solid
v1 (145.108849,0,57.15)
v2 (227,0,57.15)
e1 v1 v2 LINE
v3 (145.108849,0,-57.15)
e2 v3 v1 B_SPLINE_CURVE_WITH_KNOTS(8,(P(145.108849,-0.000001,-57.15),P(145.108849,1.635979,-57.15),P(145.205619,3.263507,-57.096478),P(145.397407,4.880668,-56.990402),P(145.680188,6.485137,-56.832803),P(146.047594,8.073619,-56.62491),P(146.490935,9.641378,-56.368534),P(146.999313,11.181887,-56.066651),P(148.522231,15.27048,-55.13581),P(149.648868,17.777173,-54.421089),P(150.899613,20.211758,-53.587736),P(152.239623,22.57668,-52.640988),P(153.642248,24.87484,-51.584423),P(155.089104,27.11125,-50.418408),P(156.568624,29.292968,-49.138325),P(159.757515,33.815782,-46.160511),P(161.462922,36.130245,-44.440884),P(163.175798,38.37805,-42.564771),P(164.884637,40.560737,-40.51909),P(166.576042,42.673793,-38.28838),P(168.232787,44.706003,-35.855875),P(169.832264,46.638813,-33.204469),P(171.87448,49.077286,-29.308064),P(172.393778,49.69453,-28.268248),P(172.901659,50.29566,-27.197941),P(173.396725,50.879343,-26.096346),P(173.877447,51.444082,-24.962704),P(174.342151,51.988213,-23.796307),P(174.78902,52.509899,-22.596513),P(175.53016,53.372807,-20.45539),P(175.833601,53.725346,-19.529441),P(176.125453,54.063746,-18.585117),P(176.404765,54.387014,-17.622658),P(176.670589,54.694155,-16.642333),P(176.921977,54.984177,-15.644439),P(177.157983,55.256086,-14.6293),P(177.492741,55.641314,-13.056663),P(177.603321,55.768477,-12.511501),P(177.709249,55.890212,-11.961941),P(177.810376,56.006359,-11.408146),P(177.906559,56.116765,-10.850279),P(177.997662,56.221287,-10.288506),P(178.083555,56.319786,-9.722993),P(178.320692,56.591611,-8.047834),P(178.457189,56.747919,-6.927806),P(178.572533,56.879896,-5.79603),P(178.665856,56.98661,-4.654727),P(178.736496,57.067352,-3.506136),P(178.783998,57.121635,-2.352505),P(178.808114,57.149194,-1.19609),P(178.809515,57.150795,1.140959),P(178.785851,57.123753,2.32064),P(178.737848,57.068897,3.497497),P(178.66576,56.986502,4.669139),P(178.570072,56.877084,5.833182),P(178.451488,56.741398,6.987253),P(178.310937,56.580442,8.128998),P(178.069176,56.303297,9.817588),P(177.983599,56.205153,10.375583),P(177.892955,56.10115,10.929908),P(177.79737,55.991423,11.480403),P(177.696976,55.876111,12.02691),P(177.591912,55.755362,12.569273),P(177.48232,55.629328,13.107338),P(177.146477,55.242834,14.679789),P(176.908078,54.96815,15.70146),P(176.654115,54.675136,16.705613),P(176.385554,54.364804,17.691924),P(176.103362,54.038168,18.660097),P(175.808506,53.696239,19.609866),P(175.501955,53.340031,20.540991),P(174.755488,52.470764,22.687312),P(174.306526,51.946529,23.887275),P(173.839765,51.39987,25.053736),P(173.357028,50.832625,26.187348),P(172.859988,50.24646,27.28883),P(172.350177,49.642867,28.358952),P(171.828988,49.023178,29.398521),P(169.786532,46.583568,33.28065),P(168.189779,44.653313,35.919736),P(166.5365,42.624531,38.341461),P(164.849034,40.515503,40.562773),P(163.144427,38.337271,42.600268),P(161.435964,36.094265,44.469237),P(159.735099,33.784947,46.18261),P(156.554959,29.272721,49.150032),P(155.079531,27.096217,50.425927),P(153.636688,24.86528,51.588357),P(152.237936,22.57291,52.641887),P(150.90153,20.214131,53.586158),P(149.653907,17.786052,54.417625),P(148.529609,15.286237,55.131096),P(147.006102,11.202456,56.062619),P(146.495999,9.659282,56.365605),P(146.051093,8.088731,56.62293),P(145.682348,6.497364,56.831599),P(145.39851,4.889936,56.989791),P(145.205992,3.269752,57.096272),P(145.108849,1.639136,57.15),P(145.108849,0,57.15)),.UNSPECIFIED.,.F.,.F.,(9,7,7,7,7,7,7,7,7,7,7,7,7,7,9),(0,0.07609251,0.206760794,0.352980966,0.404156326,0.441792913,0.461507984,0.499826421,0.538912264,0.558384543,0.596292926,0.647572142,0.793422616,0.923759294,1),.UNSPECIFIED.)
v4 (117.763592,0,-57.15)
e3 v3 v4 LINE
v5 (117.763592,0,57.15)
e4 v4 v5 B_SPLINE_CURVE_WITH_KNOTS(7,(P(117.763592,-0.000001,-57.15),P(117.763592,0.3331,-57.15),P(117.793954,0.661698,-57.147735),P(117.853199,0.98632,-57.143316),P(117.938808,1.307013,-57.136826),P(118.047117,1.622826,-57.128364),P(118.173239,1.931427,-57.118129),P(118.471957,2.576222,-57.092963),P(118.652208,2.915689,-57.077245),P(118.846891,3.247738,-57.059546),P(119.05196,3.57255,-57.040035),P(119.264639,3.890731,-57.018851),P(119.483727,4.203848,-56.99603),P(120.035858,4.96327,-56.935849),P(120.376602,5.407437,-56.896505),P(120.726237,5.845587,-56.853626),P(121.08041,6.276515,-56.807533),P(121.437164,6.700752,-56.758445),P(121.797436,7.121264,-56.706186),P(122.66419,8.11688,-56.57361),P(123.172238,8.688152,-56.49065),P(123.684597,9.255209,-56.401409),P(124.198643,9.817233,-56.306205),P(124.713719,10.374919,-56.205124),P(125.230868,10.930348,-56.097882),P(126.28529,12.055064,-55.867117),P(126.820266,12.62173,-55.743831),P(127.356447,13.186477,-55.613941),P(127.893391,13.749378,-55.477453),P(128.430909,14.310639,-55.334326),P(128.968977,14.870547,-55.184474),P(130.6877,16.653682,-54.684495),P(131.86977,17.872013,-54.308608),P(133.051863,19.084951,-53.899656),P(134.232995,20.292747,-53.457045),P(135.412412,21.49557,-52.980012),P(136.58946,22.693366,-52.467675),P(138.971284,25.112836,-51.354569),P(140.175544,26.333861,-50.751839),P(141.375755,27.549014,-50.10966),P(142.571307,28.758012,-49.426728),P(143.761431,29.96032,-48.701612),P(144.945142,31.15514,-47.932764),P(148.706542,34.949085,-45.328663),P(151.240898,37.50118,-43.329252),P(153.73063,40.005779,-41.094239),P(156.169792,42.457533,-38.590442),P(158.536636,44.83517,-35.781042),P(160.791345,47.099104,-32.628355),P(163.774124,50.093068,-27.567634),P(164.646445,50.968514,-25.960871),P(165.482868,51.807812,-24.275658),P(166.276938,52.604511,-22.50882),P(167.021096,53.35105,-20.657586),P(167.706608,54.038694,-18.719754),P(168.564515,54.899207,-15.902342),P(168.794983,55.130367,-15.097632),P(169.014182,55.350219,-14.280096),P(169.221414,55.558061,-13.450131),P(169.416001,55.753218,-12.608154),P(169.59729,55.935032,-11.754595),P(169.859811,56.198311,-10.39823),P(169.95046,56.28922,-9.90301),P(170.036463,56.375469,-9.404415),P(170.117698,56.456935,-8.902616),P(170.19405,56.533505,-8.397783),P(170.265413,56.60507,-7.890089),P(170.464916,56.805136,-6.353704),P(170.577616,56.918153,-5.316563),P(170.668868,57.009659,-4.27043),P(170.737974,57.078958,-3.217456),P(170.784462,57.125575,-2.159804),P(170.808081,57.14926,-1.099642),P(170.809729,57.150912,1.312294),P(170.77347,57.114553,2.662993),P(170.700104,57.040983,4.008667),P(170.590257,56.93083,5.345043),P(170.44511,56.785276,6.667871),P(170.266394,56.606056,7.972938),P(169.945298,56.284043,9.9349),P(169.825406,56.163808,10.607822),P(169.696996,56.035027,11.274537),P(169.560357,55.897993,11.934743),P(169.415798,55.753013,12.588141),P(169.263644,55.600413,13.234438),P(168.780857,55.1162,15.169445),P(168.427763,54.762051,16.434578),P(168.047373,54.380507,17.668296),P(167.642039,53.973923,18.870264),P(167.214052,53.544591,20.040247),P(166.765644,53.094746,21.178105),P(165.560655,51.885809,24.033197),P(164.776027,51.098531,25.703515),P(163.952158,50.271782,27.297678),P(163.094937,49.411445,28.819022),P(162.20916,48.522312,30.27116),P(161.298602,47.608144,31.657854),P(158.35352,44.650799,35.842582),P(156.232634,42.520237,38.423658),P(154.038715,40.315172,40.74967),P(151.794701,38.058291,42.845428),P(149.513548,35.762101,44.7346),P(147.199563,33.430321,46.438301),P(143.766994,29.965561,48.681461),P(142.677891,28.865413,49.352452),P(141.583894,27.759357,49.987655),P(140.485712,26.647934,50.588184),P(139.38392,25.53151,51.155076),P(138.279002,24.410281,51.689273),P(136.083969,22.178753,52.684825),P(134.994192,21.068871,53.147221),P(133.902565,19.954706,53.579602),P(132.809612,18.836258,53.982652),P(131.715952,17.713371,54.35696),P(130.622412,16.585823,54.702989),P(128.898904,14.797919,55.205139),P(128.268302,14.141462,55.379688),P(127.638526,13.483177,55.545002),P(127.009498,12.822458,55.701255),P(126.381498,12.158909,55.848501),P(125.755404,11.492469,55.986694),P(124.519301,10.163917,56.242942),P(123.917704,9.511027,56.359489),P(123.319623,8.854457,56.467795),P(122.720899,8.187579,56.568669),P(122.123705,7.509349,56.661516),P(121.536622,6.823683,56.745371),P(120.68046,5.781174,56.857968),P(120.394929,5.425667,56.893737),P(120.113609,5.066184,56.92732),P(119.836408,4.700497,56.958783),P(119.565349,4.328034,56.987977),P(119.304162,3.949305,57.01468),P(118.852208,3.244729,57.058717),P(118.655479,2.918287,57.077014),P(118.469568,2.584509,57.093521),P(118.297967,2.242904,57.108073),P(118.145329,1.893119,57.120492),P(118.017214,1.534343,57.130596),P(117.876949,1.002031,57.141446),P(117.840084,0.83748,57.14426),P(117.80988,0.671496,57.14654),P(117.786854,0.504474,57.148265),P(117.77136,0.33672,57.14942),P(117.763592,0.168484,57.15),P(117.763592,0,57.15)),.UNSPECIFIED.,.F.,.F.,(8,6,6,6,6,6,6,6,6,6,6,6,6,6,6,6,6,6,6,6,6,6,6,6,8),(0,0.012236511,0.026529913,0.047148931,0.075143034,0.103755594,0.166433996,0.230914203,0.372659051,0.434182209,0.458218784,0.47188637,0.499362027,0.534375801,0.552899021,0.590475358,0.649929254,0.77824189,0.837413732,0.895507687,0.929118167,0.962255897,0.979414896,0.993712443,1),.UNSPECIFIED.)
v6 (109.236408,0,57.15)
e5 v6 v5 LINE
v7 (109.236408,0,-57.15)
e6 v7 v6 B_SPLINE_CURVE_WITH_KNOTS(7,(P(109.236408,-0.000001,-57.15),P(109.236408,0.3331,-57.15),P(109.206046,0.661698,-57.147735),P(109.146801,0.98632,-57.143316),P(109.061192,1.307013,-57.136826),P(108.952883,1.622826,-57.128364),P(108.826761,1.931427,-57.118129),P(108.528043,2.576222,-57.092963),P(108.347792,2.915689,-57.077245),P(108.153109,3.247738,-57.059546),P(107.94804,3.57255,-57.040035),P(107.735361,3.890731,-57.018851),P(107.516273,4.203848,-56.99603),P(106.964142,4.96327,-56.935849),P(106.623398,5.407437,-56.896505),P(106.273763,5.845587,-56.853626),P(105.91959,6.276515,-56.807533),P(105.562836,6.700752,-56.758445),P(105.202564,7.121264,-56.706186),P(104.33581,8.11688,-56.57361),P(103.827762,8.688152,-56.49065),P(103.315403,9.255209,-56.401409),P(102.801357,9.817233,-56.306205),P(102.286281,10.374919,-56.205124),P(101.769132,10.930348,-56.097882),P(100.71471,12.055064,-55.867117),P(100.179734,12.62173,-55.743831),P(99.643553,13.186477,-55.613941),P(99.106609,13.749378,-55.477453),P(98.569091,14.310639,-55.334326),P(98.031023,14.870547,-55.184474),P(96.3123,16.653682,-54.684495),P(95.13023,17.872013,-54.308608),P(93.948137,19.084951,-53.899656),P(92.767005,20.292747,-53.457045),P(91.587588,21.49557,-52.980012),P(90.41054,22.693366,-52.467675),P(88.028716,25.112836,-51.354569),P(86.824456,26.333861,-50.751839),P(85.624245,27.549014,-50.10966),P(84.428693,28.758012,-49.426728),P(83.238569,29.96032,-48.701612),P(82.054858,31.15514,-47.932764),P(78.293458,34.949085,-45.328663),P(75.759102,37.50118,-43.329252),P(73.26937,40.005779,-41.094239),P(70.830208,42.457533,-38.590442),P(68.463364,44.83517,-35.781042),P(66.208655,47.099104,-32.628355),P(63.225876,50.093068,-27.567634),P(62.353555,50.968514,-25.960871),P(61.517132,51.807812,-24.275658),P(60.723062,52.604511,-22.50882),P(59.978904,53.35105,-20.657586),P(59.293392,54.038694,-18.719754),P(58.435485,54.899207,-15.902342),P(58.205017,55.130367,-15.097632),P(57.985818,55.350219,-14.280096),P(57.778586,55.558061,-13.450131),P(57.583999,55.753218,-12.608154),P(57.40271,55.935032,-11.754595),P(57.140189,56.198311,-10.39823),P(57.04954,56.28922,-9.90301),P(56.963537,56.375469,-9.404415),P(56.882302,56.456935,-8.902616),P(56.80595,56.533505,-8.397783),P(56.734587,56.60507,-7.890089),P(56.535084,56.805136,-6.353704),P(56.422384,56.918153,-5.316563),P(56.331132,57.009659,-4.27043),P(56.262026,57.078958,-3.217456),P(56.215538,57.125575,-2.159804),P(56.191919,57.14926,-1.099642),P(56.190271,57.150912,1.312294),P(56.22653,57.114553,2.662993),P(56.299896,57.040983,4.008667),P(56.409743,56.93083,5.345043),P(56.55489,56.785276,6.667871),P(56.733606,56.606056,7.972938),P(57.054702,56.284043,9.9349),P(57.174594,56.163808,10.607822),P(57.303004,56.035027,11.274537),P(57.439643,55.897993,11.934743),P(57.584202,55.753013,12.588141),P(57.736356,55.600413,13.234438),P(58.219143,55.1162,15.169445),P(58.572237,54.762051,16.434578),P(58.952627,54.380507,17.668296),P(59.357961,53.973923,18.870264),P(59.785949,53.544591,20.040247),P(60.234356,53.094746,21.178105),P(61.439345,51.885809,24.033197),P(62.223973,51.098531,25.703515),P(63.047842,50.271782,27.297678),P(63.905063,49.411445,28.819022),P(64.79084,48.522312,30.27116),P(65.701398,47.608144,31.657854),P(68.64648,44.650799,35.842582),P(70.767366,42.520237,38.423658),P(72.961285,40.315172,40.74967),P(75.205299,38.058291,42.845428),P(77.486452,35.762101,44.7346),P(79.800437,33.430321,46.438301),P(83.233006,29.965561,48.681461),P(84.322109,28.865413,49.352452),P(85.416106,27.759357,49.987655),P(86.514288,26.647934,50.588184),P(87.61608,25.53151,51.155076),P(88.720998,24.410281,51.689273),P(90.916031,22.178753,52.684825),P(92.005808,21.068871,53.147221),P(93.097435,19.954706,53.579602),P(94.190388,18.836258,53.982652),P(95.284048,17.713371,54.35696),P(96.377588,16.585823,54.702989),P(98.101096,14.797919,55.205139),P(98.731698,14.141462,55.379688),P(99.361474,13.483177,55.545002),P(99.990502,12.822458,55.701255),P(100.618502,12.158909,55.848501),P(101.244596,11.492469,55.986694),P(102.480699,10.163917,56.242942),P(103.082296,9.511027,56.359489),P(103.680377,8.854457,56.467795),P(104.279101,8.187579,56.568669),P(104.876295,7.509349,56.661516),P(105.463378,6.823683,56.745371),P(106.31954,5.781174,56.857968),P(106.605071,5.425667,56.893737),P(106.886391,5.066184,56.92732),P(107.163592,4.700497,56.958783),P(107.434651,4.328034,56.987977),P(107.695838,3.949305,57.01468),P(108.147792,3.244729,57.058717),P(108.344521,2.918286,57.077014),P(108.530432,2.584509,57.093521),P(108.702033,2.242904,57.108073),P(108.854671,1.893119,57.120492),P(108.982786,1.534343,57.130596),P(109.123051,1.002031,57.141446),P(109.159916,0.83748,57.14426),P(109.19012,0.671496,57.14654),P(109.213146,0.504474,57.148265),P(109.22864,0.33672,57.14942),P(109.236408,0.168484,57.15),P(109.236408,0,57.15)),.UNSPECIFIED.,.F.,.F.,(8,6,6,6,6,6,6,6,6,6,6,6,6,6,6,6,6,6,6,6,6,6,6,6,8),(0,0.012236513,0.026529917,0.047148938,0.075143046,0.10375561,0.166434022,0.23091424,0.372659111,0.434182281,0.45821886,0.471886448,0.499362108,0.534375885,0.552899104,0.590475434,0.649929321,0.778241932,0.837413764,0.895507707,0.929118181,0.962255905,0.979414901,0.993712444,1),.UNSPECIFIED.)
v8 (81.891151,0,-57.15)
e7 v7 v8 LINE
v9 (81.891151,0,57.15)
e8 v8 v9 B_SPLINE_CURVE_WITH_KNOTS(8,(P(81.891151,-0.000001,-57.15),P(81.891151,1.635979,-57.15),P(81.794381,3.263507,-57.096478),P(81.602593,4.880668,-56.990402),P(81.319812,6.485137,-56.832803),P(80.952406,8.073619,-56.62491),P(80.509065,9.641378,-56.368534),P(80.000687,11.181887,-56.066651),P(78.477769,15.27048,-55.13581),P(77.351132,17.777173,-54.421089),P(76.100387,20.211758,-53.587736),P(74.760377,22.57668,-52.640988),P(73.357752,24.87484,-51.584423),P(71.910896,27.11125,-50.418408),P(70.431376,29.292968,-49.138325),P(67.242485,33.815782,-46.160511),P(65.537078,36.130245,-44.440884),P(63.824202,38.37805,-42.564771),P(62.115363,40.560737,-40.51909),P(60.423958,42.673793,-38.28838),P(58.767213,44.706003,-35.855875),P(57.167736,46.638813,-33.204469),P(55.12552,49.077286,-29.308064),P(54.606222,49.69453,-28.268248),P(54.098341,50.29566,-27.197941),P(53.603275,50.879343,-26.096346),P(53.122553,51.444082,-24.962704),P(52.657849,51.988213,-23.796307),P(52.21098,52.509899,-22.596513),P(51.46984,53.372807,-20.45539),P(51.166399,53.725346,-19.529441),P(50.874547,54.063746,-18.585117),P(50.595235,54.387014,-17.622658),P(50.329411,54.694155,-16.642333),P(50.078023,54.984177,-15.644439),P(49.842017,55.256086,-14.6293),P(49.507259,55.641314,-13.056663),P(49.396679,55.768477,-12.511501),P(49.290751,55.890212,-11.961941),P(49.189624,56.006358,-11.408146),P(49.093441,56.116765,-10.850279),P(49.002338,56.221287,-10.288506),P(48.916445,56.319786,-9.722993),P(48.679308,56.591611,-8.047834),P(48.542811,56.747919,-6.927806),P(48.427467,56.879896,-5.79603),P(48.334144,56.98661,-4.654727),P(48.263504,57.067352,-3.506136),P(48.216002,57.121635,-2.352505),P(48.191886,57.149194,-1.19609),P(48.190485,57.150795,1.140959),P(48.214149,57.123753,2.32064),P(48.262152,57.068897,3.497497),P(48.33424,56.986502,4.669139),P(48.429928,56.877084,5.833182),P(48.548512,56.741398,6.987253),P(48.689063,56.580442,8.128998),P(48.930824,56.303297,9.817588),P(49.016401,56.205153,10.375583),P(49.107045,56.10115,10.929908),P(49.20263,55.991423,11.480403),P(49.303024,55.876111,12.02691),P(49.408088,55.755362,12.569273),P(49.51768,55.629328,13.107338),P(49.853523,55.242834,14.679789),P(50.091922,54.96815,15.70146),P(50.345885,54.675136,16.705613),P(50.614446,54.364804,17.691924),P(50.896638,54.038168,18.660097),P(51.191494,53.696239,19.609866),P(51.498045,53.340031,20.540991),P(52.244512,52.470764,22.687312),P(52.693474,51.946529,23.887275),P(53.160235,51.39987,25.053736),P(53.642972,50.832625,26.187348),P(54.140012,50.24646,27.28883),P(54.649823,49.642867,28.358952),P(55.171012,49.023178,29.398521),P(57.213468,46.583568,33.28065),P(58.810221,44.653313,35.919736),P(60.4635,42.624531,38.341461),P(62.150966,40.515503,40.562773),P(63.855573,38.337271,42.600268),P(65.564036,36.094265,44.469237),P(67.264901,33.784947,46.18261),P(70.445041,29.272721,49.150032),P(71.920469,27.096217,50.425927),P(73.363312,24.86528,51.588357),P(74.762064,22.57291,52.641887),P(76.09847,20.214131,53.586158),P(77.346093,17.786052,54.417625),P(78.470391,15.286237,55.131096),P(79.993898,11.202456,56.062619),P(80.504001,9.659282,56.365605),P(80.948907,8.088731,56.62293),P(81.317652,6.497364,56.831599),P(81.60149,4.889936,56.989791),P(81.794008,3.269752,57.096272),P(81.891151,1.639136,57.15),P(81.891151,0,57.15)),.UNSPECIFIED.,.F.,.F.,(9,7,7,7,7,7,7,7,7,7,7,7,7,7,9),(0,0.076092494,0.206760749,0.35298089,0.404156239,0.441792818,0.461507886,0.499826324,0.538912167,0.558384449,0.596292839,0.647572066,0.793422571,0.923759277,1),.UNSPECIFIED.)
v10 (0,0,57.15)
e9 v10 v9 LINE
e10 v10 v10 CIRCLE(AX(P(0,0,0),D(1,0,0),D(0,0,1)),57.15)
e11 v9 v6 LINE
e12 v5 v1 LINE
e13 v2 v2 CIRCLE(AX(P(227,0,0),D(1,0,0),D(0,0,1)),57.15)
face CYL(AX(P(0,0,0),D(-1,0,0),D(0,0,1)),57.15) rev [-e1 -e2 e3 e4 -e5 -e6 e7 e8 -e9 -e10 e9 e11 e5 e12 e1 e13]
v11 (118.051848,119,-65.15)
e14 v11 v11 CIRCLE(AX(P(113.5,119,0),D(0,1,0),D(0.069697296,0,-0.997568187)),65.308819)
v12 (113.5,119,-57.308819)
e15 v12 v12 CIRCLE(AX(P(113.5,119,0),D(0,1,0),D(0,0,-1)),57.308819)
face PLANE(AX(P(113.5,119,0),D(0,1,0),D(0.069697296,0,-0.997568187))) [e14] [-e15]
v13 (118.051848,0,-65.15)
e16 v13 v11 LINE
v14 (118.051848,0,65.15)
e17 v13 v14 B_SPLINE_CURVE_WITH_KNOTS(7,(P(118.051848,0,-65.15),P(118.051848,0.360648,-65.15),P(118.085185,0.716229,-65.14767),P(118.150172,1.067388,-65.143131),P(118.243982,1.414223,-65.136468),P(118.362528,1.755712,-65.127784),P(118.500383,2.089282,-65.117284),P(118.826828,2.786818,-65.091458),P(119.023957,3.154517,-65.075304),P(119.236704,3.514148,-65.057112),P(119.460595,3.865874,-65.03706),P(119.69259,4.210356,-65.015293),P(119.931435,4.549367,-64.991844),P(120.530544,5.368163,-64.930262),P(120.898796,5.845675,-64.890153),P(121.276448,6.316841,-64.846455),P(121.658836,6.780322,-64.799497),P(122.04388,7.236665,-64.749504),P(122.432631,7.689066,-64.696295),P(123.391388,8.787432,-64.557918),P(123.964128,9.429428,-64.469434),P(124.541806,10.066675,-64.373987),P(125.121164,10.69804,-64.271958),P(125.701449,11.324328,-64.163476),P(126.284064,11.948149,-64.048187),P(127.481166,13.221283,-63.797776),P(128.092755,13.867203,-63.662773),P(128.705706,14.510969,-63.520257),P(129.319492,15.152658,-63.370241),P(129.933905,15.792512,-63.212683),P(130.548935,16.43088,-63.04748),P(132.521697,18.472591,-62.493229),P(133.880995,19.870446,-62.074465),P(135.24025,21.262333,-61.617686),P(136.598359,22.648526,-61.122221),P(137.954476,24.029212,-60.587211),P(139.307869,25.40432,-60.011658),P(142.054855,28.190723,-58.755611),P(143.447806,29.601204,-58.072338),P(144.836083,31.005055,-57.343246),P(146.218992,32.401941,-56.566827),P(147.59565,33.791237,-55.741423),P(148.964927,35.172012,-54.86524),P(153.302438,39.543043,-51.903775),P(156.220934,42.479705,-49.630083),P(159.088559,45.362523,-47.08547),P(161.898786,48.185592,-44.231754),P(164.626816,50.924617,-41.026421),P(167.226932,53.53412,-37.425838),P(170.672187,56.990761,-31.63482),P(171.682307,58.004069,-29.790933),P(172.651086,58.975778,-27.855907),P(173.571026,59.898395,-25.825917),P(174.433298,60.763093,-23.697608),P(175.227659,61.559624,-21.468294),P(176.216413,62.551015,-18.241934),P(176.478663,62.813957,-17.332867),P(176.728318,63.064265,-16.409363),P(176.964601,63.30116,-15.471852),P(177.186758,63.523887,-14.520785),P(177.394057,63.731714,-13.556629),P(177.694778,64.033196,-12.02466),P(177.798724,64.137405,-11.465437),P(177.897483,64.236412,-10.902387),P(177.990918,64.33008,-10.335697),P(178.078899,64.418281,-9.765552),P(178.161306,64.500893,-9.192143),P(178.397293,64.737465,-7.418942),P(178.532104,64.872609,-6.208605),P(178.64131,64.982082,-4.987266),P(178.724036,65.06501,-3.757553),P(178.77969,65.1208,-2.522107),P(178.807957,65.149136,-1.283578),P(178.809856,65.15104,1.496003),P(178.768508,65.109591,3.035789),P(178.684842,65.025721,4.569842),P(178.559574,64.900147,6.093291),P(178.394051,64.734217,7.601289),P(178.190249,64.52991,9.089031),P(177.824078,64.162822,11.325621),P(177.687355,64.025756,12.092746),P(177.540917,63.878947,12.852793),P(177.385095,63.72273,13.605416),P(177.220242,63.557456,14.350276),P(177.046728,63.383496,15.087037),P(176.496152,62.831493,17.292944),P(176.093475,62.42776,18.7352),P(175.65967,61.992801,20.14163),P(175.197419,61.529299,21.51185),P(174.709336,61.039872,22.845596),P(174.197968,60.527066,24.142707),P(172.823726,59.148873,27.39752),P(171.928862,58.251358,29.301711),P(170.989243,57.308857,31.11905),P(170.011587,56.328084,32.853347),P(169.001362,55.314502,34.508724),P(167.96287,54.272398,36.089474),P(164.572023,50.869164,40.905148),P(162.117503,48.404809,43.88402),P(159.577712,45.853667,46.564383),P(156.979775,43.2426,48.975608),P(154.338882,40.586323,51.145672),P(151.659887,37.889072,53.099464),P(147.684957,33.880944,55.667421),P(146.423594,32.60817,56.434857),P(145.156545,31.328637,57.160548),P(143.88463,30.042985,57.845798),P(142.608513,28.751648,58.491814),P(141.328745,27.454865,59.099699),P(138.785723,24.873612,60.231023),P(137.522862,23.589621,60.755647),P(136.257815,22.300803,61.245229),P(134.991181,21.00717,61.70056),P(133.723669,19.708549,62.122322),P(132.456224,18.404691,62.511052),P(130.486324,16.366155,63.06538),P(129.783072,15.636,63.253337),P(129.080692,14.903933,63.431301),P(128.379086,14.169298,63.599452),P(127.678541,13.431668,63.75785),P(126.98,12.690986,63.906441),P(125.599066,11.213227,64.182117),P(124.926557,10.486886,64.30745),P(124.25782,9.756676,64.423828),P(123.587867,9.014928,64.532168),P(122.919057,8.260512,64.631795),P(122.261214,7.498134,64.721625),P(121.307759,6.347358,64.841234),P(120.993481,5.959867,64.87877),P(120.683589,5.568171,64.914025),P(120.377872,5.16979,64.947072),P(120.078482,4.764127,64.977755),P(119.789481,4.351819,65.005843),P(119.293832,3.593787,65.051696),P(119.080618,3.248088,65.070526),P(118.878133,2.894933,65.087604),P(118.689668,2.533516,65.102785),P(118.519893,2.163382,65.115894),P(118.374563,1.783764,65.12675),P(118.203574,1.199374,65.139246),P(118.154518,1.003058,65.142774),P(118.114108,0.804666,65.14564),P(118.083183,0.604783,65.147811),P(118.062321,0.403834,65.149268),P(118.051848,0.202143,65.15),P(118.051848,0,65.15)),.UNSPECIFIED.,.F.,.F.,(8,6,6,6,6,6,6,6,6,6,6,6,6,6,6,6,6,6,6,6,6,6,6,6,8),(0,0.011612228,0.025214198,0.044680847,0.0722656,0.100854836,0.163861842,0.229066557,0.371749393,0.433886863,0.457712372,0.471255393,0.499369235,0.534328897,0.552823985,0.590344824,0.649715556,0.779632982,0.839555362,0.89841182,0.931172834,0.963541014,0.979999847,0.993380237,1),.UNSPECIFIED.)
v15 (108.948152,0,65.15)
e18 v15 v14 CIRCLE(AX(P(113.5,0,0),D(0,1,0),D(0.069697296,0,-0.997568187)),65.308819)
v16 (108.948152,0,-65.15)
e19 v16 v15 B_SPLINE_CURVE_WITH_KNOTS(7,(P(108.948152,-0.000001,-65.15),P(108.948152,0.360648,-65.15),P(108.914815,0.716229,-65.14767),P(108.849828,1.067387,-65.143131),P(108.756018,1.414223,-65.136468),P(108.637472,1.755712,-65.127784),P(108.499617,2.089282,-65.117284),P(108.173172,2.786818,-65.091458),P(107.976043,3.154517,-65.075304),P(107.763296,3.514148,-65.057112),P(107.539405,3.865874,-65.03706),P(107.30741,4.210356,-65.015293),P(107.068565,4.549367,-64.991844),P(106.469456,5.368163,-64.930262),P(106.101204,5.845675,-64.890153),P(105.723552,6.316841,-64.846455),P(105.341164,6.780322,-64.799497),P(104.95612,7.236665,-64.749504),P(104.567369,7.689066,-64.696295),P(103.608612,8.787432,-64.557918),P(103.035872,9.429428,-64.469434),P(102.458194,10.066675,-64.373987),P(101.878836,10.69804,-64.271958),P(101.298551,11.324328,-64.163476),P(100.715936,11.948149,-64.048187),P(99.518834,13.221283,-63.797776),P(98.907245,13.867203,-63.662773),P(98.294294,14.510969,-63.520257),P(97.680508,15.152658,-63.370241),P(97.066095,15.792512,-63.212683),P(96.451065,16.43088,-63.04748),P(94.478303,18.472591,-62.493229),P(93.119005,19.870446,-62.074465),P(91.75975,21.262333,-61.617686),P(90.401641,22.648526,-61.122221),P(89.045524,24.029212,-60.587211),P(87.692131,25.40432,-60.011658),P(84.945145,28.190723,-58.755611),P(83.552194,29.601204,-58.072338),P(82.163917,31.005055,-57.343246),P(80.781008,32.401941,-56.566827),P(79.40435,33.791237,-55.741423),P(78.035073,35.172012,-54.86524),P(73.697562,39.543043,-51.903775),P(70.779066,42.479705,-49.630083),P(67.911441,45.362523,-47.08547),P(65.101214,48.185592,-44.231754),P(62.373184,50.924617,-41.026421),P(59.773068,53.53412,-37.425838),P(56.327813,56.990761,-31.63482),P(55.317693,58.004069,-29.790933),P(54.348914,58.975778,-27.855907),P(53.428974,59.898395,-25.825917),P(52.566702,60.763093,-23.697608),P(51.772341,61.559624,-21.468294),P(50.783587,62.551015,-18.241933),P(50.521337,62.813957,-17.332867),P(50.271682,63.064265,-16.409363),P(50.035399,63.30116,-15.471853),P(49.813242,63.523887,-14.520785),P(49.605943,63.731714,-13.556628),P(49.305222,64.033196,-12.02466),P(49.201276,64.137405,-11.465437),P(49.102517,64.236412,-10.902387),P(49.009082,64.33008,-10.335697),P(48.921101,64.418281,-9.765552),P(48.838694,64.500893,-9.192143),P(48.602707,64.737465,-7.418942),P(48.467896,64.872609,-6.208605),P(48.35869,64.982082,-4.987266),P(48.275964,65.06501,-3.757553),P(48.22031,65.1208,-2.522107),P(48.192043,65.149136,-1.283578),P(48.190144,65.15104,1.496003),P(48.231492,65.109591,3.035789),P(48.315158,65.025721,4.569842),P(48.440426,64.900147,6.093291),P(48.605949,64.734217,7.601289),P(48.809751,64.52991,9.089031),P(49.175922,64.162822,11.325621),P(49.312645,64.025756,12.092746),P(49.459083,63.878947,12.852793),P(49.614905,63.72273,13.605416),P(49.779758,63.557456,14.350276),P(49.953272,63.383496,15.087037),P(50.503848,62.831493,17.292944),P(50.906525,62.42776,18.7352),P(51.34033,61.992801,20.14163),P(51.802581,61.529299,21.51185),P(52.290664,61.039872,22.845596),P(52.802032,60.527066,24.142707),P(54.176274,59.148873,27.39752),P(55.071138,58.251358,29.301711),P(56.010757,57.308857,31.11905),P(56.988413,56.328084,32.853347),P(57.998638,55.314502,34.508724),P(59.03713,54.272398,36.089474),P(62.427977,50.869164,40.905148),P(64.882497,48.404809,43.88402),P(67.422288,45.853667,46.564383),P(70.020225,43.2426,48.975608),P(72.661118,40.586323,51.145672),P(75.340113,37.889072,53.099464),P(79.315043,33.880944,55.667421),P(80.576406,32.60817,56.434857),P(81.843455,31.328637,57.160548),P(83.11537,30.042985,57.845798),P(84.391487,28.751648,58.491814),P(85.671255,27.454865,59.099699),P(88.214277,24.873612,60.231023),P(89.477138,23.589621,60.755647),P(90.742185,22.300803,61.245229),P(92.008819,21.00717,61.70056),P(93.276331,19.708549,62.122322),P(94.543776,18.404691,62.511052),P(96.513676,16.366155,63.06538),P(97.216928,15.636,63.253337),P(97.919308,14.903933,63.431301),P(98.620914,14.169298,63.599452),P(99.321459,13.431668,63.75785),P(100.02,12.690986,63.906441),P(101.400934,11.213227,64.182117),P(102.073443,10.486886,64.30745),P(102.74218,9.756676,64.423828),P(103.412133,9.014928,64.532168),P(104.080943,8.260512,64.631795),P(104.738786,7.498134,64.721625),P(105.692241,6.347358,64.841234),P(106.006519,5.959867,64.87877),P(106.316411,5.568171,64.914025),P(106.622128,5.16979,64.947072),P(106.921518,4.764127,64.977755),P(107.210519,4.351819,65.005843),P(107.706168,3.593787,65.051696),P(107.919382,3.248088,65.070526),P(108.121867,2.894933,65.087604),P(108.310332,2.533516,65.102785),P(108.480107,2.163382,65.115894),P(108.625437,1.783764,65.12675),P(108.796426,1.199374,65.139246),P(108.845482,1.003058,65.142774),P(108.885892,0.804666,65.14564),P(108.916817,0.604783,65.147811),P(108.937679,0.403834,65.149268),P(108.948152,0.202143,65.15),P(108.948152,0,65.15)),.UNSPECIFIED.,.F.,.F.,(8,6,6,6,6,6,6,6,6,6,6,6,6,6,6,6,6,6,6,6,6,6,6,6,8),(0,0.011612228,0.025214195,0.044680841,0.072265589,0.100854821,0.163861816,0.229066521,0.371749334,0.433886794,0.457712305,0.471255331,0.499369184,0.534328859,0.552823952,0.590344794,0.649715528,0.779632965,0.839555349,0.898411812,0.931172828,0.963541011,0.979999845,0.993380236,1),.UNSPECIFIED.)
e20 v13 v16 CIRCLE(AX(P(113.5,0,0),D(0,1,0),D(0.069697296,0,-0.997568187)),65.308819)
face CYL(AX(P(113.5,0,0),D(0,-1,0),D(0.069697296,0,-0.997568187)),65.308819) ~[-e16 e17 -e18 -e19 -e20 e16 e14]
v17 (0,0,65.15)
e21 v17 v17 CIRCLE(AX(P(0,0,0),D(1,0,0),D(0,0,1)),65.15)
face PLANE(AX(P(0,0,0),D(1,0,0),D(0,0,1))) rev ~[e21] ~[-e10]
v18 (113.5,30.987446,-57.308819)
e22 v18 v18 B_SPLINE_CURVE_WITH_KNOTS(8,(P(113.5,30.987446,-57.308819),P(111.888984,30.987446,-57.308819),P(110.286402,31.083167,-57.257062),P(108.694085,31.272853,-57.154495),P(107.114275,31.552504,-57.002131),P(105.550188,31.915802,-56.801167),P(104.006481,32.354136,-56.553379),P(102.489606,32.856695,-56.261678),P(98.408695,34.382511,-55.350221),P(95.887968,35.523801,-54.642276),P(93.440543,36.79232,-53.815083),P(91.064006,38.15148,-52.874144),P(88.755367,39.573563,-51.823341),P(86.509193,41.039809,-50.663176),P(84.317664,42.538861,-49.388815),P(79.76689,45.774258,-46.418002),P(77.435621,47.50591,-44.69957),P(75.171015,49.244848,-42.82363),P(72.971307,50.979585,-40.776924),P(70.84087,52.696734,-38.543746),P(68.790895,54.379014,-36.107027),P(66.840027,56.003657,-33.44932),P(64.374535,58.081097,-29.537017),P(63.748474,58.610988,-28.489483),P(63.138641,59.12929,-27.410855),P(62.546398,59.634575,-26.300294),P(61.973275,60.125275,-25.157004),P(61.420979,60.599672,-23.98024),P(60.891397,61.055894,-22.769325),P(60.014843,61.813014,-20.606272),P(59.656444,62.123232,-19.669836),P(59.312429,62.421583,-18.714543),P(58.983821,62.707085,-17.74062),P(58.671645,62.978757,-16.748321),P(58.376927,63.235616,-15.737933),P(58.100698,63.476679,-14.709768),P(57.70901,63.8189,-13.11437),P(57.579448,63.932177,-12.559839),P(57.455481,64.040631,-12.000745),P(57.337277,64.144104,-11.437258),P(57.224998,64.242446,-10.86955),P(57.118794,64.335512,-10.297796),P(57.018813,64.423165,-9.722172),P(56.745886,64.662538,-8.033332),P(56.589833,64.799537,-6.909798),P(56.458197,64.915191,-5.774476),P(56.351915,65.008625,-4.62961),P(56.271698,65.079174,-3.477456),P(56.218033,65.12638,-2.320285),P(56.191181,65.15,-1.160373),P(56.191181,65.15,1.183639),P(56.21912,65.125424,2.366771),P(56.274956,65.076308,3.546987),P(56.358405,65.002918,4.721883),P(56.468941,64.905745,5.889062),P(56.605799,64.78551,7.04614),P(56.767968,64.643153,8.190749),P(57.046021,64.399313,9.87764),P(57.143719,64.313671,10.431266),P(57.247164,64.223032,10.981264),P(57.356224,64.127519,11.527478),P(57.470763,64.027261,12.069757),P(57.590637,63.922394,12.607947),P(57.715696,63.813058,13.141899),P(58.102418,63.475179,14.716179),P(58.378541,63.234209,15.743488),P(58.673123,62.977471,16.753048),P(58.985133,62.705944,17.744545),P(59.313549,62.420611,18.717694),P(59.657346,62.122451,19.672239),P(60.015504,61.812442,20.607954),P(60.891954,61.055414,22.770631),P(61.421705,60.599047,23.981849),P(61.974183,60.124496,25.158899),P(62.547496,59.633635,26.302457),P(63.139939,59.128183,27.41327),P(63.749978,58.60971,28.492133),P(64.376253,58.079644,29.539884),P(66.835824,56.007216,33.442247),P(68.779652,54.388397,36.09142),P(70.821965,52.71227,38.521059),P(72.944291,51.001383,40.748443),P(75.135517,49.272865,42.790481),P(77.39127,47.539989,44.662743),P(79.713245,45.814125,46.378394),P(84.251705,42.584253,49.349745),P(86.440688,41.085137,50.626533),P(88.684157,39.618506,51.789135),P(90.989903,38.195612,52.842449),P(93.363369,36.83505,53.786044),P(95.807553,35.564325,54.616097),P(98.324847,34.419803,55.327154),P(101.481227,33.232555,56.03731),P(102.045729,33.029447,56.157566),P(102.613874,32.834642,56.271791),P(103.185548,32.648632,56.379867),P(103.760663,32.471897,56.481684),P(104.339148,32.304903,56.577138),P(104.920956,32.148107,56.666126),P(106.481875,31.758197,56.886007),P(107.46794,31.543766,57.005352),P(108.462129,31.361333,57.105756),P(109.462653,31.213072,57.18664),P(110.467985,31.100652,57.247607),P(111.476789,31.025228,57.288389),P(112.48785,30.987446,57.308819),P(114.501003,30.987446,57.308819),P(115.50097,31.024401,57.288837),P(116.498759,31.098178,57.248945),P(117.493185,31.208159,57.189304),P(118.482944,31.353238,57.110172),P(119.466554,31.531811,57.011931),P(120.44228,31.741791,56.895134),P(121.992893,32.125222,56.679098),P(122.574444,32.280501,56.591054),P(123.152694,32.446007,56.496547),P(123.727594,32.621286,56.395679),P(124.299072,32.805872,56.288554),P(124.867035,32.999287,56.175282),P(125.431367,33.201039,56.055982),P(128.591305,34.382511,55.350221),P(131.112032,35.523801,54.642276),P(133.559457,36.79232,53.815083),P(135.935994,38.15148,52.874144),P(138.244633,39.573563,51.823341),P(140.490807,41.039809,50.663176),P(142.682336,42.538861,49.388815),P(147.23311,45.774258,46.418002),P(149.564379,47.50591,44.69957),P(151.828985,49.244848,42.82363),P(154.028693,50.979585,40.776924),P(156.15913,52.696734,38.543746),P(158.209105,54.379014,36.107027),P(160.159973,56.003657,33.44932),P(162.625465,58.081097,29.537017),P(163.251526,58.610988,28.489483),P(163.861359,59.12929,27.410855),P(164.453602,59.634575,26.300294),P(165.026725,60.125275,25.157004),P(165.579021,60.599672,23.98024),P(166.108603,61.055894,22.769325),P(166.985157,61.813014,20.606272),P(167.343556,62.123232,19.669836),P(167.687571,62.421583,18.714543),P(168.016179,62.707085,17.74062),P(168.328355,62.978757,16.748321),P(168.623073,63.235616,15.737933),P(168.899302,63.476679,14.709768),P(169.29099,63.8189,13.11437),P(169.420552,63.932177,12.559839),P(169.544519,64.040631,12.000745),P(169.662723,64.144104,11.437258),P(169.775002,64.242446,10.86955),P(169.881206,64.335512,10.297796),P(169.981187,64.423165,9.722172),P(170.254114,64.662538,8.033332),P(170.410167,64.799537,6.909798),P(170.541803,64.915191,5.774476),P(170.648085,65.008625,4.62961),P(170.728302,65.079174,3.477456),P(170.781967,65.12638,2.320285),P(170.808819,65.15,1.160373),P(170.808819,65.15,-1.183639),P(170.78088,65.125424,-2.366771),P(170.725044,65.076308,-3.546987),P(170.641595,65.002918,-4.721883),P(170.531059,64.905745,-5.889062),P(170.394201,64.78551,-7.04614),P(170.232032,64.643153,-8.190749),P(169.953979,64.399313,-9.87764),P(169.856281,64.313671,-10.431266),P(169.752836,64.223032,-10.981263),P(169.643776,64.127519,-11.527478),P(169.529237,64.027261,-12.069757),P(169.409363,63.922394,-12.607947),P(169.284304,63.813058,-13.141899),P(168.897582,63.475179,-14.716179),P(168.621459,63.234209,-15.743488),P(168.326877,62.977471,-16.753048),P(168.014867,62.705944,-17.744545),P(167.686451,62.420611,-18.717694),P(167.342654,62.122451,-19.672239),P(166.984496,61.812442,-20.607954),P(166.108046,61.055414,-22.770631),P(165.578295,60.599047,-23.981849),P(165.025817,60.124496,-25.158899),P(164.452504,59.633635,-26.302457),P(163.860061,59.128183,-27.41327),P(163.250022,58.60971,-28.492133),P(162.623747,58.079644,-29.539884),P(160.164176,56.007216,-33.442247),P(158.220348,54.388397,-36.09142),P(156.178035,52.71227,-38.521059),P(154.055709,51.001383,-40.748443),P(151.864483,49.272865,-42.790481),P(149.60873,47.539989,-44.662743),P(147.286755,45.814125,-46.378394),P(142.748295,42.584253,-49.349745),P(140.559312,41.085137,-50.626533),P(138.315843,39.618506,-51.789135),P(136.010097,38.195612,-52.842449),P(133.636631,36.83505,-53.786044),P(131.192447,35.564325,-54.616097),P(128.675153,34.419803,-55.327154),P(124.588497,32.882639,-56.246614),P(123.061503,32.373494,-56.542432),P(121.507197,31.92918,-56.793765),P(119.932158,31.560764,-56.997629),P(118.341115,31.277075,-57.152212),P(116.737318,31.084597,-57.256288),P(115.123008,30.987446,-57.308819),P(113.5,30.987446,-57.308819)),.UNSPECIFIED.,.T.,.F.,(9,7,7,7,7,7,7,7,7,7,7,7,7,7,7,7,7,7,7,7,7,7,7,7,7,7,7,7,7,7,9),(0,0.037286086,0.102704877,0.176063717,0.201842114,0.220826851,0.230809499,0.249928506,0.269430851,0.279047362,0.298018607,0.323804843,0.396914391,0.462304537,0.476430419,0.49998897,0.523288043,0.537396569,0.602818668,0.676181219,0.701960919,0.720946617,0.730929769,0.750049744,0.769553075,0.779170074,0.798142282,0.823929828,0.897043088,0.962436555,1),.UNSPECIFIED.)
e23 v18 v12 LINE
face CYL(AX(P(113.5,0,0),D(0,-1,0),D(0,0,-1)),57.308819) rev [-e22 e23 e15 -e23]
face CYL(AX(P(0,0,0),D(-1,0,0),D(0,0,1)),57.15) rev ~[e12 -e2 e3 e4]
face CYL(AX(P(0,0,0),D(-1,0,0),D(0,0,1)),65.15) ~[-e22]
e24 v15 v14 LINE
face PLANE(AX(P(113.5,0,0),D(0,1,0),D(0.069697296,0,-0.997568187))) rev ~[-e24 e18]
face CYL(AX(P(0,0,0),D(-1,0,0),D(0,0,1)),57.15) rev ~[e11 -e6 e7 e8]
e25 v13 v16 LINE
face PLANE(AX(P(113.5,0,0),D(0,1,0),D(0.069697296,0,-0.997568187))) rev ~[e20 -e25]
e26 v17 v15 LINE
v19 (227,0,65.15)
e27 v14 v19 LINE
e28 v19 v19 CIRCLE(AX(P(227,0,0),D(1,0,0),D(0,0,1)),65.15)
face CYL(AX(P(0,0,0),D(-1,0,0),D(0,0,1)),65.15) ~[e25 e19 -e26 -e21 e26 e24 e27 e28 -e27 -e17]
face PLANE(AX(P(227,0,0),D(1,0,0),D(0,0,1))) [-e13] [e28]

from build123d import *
from build123d.topology import SkipClean

# Parameters (mm, degrees)
CROQUIS1_R              = 65.15
CROQUIS1_R_2            = 57.15
SALIENTE_EXTRUIR1_DEPTH = 227
CROQUIS2_R              = 65.308818862
CROQUIS2_R_2            = 57.308818862
SALIENTE_EXTRUIR2_DEPTH = 119
CROQUIS3_R              = 57.15
CORTAR_EXTRUIR1_DEPTH   = 227


with BuildPart() as part:
    # Croquis1 → Saliente-Extruir1 (new body)
    with BuildSketch(Plane(origin=(0, 0, 0), x_dir=(0, 0, -1), z_dir=(1, 0, 0))):
        with Locations(Location((0, 0, 0), (0, 0, 180))):
            Circle(CROQUIS1_R)
        with Locations(Location((0, 0, 0), (0, 0, 180))):
            Circle(CROQUIS1_R_2, mode=Mode.SUBTRACT)
    extrude(amount=SALIENTE_EXTRUIR1_DEPTH)

    # Croquis2 → Saliente-Extruir2 (add)
    with BuildSketch(Plane(origin=(0, 0, 0), x_dir=(1, 0, 0), z_dir=(0, 1, 0))):
        with Locations(Location((113.5, 0, 0), (0, 0, 86.003398893))):
            Circle(CROQUIS2_R)
        with Locations(Location((113.5, 0, 0), (0, 0, 90))):
            Circle(CROQUIS2_R_2, mode=Mode.SUBTRACT)
    extrude(amount=SALIENTE_EXTRUIR2_DEPTH)

    # Croquis3 → Cortar-Extruir1 (cut)
    with SkipClean():  # the faces are left unmerged after this step: merging them gives an invalid solid
        with BuildSketch(Plane.ZY):
            Circle(CROQUIS3_R)
        extrude(amount=-CORTAR_EXTRUIR1_DEPTH, mode=Mode.SUBTRACT)


solid = part.part
